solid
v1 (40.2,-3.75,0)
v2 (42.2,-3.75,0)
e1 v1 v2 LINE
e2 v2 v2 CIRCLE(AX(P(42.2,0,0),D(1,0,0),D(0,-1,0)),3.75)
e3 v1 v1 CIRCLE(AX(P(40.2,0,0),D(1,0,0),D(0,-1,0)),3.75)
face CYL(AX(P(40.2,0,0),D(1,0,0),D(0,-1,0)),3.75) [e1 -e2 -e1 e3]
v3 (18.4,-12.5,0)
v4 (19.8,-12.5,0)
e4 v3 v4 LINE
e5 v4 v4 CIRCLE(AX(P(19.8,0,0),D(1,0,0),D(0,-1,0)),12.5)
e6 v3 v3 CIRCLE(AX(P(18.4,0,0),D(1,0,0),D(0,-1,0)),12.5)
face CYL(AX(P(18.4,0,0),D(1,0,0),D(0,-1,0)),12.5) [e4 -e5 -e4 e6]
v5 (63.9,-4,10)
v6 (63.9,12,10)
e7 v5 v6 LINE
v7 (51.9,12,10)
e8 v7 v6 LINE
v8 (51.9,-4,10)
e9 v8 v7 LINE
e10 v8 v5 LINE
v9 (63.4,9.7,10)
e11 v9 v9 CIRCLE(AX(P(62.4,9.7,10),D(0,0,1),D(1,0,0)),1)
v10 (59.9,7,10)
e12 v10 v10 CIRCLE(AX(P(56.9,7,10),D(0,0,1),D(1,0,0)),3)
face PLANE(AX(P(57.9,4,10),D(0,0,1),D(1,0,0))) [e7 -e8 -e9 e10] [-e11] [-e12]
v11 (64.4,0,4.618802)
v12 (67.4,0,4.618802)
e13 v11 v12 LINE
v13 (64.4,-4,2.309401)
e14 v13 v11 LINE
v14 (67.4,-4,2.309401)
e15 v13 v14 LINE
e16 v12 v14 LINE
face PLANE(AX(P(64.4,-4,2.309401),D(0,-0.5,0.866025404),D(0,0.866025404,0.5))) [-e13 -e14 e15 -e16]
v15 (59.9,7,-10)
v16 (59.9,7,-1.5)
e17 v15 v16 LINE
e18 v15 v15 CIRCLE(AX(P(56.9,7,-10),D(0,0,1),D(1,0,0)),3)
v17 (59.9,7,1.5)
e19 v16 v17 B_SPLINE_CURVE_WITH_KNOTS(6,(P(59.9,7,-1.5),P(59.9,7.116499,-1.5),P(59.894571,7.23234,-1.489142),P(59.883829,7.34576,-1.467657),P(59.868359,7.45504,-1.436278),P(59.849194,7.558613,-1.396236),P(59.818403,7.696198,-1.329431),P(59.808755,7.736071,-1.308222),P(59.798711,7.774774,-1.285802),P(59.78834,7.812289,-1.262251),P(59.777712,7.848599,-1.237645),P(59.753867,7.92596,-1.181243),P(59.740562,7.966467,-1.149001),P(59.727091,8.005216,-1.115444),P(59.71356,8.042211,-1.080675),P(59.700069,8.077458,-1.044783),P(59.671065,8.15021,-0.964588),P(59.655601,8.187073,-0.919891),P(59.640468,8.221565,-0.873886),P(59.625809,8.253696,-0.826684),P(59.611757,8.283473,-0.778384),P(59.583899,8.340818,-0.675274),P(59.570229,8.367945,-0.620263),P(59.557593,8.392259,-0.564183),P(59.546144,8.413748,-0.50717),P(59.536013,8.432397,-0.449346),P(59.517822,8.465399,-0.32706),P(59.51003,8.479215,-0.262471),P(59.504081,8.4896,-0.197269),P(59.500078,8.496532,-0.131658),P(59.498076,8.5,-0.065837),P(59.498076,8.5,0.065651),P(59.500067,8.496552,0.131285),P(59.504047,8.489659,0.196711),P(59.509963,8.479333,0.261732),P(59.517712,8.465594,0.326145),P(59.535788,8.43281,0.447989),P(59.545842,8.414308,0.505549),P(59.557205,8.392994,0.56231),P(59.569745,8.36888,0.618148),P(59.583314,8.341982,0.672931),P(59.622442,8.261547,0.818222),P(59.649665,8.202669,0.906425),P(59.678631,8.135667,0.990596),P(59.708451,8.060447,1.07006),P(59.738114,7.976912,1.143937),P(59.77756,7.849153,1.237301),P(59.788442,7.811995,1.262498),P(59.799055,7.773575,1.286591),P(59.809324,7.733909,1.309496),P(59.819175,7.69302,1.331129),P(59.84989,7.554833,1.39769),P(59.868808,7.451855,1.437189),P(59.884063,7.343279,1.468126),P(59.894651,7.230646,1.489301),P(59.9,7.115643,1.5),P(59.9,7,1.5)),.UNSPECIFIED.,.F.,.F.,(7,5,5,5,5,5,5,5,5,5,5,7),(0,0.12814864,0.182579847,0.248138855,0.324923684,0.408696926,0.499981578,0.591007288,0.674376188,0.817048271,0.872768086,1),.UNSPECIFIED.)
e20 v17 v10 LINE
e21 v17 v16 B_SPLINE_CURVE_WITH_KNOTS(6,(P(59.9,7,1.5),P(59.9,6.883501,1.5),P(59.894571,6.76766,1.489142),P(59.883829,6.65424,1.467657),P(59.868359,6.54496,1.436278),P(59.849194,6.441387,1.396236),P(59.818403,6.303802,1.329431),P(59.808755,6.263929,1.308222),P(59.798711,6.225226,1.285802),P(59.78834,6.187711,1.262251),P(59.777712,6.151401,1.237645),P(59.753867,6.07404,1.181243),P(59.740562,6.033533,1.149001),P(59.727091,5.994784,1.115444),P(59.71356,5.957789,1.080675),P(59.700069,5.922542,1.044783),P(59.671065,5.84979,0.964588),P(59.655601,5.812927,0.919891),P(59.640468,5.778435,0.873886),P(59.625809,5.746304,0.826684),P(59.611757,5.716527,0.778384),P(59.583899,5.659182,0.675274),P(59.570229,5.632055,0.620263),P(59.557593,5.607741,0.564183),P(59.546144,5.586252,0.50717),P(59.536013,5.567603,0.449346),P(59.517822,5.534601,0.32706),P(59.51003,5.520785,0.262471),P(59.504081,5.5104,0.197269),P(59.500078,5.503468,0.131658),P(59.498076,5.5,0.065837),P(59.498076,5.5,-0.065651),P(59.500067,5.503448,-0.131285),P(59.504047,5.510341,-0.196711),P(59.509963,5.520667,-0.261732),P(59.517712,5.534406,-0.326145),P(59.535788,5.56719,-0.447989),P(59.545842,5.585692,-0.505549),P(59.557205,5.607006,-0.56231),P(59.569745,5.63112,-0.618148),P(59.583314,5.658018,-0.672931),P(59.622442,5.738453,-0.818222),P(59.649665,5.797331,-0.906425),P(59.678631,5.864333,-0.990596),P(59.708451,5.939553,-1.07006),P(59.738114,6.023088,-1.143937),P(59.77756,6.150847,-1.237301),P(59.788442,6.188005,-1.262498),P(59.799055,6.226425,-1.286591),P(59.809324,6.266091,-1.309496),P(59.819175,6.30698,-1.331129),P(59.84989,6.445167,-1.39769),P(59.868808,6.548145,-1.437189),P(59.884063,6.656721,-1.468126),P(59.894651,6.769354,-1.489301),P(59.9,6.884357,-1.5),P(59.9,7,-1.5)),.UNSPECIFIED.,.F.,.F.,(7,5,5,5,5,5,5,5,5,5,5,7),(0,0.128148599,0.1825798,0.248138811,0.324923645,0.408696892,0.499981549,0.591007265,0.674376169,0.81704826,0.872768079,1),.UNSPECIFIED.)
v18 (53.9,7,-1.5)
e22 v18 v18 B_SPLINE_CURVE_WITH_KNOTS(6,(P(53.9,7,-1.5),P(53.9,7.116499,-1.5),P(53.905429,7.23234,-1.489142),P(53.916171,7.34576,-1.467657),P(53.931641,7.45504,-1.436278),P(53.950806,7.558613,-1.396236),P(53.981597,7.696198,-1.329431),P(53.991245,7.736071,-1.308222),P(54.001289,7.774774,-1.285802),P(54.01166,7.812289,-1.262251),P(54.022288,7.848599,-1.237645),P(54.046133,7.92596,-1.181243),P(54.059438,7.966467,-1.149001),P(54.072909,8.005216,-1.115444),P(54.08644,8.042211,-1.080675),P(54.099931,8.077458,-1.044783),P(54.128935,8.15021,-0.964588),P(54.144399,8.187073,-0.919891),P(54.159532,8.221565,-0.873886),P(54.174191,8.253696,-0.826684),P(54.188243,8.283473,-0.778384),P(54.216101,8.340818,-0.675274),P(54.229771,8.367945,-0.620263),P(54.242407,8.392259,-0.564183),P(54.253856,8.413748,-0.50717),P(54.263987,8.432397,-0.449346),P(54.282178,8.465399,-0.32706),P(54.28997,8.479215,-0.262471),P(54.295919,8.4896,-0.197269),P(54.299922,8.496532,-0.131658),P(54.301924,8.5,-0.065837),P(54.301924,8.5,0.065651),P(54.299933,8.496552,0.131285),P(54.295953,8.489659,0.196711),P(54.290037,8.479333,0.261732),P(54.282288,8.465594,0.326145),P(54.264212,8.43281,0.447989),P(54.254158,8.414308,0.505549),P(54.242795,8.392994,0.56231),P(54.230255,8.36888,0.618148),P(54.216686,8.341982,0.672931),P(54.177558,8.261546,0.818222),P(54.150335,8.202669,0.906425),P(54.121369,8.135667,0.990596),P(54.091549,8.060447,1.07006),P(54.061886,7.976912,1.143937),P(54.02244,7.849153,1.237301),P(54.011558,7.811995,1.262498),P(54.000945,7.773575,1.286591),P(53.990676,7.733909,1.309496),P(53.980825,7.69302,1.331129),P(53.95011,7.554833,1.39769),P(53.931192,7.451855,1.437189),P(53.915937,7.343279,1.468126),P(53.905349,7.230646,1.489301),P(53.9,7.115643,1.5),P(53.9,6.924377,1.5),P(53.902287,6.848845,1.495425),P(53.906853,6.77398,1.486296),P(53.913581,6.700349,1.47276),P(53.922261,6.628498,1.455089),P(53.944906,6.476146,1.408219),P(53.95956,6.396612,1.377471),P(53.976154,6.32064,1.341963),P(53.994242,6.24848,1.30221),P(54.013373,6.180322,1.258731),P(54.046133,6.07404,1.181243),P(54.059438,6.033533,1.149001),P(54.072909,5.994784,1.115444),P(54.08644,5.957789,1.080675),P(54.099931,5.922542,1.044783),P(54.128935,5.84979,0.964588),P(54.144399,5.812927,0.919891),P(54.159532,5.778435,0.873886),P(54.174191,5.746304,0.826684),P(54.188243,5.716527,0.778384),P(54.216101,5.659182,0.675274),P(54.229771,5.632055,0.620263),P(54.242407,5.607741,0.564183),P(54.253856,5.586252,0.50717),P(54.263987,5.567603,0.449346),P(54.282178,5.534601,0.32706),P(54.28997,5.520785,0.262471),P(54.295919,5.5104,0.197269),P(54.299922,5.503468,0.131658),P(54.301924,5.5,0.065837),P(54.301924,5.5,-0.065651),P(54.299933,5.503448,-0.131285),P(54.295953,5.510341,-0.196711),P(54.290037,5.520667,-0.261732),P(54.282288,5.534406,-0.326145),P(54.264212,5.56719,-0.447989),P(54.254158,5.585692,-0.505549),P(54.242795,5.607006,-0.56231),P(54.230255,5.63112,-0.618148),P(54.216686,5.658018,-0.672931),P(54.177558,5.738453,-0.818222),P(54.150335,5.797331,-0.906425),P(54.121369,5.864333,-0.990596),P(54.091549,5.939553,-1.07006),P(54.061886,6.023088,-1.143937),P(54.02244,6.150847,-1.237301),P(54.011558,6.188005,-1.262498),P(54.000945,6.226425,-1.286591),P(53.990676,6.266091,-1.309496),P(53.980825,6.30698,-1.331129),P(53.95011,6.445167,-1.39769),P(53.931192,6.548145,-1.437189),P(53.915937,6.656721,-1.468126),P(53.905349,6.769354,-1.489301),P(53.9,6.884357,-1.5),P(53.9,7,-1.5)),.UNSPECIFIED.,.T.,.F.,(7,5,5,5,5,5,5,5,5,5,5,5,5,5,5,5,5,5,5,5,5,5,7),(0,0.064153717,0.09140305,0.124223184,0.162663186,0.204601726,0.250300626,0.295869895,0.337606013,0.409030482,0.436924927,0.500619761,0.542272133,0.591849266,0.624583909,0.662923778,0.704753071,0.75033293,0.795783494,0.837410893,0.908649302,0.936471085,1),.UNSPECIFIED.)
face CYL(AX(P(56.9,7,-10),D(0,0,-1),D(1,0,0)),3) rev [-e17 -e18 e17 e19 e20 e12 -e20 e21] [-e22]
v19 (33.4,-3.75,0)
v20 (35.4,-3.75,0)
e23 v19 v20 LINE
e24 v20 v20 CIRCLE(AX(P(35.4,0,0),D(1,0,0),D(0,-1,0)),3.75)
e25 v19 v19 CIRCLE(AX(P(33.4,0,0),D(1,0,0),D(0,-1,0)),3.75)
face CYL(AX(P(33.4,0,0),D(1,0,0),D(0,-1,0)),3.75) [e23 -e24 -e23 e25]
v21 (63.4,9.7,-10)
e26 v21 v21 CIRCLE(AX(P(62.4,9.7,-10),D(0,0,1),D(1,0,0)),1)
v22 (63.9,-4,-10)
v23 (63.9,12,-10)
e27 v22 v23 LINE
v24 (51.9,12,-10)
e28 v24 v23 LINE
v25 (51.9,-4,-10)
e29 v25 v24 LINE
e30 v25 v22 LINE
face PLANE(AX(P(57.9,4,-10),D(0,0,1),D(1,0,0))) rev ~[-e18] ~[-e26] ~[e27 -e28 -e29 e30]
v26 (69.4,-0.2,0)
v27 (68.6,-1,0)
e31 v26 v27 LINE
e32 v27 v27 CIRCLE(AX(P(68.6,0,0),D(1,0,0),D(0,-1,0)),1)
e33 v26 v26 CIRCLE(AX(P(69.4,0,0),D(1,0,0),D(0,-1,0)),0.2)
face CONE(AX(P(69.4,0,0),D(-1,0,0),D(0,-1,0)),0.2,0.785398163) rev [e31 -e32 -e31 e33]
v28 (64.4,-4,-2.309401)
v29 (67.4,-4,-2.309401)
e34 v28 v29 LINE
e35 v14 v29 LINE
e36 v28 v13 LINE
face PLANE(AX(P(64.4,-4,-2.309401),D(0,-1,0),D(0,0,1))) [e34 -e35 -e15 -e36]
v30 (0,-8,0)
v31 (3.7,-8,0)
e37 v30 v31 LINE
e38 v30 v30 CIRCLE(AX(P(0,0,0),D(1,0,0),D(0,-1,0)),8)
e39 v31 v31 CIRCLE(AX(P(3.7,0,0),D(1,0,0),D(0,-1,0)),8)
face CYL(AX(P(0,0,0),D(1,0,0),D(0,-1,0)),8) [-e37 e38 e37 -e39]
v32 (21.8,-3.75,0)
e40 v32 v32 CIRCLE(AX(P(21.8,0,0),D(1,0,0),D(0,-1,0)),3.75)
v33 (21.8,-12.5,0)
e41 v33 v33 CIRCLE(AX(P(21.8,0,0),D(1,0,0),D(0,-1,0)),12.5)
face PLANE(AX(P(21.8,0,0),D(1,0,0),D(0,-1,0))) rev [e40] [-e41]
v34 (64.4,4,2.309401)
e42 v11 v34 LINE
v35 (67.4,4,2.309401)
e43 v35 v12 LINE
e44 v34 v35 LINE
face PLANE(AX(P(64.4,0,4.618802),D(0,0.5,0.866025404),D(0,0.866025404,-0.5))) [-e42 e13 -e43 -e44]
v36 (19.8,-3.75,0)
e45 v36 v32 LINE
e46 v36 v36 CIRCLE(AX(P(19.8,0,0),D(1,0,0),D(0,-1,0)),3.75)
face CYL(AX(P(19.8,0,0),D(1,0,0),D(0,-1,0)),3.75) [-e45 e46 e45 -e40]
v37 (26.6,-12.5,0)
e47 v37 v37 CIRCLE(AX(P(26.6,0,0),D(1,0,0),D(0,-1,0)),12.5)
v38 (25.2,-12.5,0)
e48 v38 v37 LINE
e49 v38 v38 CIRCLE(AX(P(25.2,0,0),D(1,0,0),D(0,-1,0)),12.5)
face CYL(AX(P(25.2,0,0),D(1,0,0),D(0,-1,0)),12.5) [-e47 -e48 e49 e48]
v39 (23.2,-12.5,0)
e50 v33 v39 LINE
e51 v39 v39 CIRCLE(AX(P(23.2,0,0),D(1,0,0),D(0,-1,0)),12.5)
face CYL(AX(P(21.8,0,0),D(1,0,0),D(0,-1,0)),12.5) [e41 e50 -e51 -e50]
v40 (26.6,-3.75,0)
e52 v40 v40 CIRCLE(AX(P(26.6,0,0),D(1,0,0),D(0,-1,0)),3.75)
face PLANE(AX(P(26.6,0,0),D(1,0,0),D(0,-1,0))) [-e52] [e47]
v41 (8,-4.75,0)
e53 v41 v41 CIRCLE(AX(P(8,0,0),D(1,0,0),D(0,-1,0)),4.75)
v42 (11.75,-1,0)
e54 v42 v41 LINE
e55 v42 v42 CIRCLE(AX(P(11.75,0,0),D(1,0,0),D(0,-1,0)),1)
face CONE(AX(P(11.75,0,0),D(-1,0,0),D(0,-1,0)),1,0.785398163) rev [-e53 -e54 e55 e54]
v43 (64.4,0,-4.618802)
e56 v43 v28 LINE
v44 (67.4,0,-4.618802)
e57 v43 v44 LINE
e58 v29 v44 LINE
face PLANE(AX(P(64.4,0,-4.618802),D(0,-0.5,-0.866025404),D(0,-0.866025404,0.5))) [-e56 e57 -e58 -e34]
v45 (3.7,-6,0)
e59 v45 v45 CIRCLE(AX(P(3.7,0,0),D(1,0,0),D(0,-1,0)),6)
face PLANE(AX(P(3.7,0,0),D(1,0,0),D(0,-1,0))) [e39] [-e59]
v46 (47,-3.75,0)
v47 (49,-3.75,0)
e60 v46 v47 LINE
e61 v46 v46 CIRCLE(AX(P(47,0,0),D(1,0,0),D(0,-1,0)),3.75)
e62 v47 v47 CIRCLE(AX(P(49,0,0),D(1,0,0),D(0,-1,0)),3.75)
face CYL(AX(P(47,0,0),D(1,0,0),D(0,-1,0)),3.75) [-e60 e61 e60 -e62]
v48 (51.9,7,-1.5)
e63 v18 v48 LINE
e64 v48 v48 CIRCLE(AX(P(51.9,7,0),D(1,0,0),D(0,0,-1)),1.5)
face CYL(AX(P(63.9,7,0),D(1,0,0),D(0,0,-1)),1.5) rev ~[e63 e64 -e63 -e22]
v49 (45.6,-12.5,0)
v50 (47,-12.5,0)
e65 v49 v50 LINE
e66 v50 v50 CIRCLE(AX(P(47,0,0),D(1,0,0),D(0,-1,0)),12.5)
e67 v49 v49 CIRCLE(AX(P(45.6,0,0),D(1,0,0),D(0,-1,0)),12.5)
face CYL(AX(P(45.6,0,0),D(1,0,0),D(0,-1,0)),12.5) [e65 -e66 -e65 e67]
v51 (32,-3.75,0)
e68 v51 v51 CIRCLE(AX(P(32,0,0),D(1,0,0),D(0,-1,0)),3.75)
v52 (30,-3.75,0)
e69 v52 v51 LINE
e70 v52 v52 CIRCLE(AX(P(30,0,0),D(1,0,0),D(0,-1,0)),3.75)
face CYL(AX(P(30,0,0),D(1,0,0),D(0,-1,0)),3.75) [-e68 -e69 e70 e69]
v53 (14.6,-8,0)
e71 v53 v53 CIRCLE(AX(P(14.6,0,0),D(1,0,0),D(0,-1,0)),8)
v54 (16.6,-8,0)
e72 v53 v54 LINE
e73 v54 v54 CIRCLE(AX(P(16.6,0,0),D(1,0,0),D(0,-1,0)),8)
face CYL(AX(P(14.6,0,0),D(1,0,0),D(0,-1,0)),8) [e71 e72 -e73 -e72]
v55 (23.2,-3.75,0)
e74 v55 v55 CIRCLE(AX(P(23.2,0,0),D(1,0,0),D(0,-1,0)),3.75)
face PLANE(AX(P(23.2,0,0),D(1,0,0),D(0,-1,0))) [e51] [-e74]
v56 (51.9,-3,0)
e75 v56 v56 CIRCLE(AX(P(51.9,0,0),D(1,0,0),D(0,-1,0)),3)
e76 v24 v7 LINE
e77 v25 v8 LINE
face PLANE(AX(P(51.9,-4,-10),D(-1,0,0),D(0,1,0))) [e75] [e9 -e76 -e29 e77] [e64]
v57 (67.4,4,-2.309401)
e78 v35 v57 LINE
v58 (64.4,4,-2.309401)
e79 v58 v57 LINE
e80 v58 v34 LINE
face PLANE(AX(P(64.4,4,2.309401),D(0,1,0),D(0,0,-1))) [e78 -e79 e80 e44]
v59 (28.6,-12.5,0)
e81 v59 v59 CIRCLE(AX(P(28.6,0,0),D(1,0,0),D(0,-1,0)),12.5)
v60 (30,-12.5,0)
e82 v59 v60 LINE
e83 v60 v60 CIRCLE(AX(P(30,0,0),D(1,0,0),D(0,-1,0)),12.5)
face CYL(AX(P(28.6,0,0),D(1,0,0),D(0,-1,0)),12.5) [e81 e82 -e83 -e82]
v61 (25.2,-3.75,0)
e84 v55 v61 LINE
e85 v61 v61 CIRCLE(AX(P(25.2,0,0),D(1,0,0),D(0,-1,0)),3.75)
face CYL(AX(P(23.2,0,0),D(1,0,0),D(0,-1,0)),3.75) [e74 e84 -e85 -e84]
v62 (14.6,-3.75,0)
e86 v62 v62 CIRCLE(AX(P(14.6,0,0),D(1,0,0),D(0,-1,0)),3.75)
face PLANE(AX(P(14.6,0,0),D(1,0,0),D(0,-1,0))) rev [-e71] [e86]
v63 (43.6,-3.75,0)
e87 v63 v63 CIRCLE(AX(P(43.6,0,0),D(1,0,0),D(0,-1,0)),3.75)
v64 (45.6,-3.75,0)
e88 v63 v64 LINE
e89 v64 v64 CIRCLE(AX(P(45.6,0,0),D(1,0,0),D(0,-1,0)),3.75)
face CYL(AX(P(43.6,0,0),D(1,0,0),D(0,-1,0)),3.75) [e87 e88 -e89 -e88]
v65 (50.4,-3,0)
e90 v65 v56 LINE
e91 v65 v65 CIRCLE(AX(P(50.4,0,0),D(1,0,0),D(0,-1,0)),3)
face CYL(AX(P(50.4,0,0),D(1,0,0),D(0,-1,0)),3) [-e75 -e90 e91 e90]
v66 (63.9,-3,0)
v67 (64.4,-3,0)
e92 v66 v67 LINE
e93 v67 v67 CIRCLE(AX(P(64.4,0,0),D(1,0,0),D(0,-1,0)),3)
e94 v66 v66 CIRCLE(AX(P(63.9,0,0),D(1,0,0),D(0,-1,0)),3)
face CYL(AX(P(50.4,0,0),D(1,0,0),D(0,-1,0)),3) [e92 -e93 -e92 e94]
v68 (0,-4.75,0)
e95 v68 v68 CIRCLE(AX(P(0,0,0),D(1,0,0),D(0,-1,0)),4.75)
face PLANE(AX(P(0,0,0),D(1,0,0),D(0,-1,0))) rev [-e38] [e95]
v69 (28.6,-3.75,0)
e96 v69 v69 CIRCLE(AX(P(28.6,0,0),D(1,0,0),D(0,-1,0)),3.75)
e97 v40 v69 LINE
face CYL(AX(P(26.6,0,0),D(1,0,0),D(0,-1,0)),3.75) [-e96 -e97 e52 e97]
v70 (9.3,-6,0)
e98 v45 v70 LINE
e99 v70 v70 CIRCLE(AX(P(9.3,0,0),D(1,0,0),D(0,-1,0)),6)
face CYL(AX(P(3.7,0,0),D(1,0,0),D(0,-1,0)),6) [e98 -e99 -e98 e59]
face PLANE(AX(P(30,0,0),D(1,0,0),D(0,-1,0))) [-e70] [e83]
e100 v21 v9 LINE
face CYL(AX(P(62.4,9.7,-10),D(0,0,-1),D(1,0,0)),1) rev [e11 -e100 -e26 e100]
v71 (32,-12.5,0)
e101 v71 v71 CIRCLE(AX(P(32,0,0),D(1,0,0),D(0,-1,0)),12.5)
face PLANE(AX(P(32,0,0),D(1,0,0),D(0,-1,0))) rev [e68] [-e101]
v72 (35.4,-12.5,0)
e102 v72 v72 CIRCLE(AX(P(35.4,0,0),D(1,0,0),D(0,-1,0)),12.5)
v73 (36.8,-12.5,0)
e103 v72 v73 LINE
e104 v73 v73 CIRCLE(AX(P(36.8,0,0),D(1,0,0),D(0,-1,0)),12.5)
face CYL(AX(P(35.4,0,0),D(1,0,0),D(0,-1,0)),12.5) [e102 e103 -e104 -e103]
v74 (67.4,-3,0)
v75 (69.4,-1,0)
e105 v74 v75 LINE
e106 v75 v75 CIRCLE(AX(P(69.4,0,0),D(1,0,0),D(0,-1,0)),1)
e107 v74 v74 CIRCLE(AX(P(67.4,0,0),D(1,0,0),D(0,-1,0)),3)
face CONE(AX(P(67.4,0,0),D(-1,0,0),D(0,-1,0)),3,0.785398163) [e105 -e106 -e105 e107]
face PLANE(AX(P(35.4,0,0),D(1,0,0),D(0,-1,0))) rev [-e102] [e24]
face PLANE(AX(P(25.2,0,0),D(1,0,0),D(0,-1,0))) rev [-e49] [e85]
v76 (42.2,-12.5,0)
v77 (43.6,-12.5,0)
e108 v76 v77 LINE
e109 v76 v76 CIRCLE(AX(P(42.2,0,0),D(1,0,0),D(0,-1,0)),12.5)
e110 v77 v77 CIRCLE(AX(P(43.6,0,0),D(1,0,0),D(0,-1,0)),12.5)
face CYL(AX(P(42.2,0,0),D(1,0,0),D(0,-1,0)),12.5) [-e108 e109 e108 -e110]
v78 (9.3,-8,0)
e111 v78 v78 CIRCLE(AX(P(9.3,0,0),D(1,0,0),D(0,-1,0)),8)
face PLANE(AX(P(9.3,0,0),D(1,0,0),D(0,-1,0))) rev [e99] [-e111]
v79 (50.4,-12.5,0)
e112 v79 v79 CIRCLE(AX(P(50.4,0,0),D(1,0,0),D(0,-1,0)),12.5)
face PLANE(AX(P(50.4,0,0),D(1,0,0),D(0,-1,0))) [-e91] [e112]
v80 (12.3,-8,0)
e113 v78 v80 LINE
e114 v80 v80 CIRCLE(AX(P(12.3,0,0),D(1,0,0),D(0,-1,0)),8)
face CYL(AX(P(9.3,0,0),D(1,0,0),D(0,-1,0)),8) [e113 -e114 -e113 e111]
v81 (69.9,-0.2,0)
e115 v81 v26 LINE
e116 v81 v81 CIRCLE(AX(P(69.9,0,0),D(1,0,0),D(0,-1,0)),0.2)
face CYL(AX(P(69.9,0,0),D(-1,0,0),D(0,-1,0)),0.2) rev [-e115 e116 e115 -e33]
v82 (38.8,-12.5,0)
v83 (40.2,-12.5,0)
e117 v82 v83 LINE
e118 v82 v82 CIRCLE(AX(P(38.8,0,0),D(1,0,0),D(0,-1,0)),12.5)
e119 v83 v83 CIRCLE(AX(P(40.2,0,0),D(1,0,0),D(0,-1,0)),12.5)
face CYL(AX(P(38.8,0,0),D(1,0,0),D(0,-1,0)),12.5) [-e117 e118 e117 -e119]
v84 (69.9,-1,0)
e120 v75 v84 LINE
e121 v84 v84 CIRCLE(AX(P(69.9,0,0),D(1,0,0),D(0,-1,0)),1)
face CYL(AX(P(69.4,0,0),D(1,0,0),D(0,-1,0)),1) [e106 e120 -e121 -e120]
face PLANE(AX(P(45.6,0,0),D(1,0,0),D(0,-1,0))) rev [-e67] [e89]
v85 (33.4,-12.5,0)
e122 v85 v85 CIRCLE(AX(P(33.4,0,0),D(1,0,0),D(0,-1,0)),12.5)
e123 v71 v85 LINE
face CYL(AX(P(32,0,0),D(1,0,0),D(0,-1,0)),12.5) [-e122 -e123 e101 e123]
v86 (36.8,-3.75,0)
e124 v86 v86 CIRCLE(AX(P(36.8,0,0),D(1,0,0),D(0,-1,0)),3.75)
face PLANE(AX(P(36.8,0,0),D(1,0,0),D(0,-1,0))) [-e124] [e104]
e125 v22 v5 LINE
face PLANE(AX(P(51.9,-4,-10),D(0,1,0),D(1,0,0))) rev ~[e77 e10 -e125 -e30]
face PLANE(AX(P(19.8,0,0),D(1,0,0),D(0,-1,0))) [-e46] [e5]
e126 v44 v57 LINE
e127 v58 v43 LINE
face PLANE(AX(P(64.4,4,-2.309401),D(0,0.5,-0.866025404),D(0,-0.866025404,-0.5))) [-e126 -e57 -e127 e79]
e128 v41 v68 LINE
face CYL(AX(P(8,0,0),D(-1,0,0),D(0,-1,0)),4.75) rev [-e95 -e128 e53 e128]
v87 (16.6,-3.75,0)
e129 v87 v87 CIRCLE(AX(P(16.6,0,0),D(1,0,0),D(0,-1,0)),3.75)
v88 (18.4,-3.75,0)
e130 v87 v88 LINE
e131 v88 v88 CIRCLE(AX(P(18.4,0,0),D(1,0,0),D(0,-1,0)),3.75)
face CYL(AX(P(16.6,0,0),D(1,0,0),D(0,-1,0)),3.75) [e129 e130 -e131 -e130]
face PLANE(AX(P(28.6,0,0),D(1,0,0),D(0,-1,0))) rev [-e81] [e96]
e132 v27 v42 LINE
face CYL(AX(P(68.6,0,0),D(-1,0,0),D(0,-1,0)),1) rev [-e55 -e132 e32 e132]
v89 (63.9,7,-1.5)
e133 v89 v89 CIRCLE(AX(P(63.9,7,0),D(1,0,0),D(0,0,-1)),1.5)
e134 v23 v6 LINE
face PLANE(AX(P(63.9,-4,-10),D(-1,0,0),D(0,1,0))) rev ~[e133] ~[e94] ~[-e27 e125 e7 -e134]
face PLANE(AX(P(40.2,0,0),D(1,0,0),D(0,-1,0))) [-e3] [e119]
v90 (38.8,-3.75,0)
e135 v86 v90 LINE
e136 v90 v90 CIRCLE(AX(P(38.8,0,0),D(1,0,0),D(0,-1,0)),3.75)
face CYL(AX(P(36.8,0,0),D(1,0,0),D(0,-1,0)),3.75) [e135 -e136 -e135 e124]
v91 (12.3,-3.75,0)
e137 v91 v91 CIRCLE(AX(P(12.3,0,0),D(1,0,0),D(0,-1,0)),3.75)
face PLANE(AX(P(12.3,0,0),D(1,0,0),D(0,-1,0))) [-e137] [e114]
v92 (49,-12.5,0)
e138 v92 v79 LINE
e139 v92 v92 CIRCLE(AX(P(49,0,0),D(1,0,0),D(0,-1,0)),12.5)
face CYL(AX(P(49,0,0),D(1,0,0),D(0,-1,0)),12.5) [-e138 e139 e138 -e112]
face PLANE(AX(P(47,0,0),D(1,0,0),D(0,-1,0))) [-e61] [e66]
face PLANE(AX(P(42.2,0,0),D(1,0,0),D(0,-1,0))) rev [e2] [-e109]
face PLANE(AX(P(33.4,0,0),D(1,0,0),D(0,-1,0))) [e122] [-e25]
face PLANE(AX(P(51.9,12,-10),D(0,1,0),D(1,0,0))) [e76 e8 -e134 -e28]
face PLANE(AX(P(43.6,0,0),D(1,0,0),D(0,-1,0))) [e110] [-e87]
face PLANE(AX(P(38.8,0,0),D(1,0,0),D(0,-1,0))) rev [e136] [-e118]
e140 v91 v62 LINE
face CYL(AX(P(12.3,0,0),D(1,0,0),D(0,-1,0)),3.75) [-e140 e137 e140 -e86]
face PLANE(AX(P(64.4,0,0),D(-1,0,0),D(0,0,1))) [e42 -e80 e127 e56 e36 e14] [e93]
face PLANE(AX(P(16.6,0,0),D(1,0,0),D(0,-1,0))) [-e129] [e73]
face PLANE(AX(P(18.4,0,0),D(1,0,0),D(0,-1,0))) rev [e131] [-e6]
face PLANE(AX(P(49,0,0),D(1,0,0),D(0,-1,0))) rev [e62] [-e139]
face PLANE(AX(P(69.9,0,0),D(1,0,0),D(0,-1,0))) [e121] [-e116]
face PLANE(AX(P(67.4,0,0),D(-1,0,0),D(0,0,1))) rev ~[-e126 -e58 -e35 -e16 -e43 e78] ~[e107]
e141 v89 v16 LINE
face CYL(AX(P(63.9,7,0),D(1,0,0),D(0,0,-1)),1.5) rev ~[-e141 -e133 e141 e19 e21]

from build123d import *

# Parameters (mm, degrees)
BOSS_EXTRUDE1_DEPTH = 3
BOSS_EXTRUDE2_START = -10
SKETCH3_W           = 12
SKETCH3_H           = 16
SKETCH3_R           = 3
SKETCH3_R_2         = 1
BOSS_EXTRUDE2_DEPTH = 20
SKETCH4_R           = 1.5
CUT_EXTRUDE5_DEPTH  = 12
CUT_EXTRUDE6_START  = -13.5
SKETCH5_R           = 1
CUT_EXTRUDE6_DEPTH  = 18.2


with BuildPart() as part:
    # Sketch1 → Revolve1 (revolve)
    with BuildSketch(Plane.XY, mode=Mode.PRIVATE) as revolve1_sk:
        Polygon((0, 8), (3.7, 8), (3.7, 6), (9.3, 6), (9.3, 8), (12.3, 8), (12.3, 3.75), (14.6, 3.75), (14.6, 8), (16.6, 8), (16.6, 3.75), (18.4, 3.75), (18.4, 12.5), (19.8, 12.5), (19.8, 3.75), (21.8, 3.75), (21.8, 12.5), (23.2, 12.5), (23.2, 3.75), (25.2, 3.75), (25.2, 12.5), (26.6, 12.5), (26.6, 3.75), (28.6, 3.75), (28.6, 12.5), (30, 12.5), (30, 3.75), (32, 3.75), (32, 12.5), (33.4, 12.5), (33.4, 3.75), (35.4, 3.75), (35.4, 12.5), (36.8, 12.5), (36.8, 3.75), (38.8, 3.75), (38.8, 12.5), (40.2, 12.5), (40.2, 3.75), (42.2, 3.75), (42.2, 12.5), (43.6, 12.5), (43.6, 3.75), (45.6, 3.75), (45.6, 12.5), (47, 12.5), (47, 3.75), (49, 3.75), (49, 12.5), (50.4, 12.5), (50.4, 3), (64.4, 3), (64.4, 4), (67.4, 4), (67.4, 3), (69.4, 1), (69.9, 1), (69.9, 0.2), (69.4, 0.2), (68.6, 1), (11.75, 1), (8, 4.75), (0, 4.75), align=None)
    revolve(revolve1_sk.sketch.rotate(Axis((0, 0, 0), (1, 0, 0)), 180), axis=Axis((0, 0, 0), (1, 0, 0)))

    # Sketch2 → Boss-Extrude1 (add)
    with BuildSketch(Plane.ZY.offset(-64.4)):
        Polygon((2.309401077, 4), (-2.309401077, 4), (-4.618802154, 0), (-2.309401077, -4), (2.309401077, -4), (4.618802154, 0), align=None)
    extrude(amount=-BOSS_EXTRUDE1_DEPTH)

    # Sketch3 → Boss-Extrude2 (add)
    with BuildSketch(Plane.XY.offset(BOSS_EXTRUDE2_START)):
        with Locations((57.9, 4)):
            Rectangle(SKETCH3_W, SKETCH3_H)
        with Locations((56.9, 7)):
            Circle(SKETCH3_R, mode=Mode.SUBTRACT)
        with Locations((62.4, 9.7)):
            Circle(SKETCH3_R_2, mode=Mode.SUBTRACT)
    extrude(amount=BOSS_EXTRUDE2_DEPTH)

    # Sketch4 → Cut-Extrude5 (cut)
    with BuildSketch(Plane(origin=(63.9, 0, 0), x_dir=(0, 0, -1), z_dir=(1, 0, 0))):
        with Locations((0, 7)):
            Circle(SKETCH4_R)
    extrude(amount=-CUT_EXTRUDE5_DEPTH, mode=Mode.SUBTRACT)

    # Sketch5 → Cut-Extrude6 (cut)
    with BuildSketch(Plane(origin=(63.9, 0, 0), x_dir=(0, 0, -1), z_dir=(1, 0, 0)).offset(CUT_EXTRUDE6_START)):
        with Locations(Location((0, 0, 0), (0, 0, 270))):
            Circle(SKETCH5_R)
    extrude(amount=CUT_EXTRUDE6_DEPTH, mode=Mode.SUBTRACT)


solid = part.part
